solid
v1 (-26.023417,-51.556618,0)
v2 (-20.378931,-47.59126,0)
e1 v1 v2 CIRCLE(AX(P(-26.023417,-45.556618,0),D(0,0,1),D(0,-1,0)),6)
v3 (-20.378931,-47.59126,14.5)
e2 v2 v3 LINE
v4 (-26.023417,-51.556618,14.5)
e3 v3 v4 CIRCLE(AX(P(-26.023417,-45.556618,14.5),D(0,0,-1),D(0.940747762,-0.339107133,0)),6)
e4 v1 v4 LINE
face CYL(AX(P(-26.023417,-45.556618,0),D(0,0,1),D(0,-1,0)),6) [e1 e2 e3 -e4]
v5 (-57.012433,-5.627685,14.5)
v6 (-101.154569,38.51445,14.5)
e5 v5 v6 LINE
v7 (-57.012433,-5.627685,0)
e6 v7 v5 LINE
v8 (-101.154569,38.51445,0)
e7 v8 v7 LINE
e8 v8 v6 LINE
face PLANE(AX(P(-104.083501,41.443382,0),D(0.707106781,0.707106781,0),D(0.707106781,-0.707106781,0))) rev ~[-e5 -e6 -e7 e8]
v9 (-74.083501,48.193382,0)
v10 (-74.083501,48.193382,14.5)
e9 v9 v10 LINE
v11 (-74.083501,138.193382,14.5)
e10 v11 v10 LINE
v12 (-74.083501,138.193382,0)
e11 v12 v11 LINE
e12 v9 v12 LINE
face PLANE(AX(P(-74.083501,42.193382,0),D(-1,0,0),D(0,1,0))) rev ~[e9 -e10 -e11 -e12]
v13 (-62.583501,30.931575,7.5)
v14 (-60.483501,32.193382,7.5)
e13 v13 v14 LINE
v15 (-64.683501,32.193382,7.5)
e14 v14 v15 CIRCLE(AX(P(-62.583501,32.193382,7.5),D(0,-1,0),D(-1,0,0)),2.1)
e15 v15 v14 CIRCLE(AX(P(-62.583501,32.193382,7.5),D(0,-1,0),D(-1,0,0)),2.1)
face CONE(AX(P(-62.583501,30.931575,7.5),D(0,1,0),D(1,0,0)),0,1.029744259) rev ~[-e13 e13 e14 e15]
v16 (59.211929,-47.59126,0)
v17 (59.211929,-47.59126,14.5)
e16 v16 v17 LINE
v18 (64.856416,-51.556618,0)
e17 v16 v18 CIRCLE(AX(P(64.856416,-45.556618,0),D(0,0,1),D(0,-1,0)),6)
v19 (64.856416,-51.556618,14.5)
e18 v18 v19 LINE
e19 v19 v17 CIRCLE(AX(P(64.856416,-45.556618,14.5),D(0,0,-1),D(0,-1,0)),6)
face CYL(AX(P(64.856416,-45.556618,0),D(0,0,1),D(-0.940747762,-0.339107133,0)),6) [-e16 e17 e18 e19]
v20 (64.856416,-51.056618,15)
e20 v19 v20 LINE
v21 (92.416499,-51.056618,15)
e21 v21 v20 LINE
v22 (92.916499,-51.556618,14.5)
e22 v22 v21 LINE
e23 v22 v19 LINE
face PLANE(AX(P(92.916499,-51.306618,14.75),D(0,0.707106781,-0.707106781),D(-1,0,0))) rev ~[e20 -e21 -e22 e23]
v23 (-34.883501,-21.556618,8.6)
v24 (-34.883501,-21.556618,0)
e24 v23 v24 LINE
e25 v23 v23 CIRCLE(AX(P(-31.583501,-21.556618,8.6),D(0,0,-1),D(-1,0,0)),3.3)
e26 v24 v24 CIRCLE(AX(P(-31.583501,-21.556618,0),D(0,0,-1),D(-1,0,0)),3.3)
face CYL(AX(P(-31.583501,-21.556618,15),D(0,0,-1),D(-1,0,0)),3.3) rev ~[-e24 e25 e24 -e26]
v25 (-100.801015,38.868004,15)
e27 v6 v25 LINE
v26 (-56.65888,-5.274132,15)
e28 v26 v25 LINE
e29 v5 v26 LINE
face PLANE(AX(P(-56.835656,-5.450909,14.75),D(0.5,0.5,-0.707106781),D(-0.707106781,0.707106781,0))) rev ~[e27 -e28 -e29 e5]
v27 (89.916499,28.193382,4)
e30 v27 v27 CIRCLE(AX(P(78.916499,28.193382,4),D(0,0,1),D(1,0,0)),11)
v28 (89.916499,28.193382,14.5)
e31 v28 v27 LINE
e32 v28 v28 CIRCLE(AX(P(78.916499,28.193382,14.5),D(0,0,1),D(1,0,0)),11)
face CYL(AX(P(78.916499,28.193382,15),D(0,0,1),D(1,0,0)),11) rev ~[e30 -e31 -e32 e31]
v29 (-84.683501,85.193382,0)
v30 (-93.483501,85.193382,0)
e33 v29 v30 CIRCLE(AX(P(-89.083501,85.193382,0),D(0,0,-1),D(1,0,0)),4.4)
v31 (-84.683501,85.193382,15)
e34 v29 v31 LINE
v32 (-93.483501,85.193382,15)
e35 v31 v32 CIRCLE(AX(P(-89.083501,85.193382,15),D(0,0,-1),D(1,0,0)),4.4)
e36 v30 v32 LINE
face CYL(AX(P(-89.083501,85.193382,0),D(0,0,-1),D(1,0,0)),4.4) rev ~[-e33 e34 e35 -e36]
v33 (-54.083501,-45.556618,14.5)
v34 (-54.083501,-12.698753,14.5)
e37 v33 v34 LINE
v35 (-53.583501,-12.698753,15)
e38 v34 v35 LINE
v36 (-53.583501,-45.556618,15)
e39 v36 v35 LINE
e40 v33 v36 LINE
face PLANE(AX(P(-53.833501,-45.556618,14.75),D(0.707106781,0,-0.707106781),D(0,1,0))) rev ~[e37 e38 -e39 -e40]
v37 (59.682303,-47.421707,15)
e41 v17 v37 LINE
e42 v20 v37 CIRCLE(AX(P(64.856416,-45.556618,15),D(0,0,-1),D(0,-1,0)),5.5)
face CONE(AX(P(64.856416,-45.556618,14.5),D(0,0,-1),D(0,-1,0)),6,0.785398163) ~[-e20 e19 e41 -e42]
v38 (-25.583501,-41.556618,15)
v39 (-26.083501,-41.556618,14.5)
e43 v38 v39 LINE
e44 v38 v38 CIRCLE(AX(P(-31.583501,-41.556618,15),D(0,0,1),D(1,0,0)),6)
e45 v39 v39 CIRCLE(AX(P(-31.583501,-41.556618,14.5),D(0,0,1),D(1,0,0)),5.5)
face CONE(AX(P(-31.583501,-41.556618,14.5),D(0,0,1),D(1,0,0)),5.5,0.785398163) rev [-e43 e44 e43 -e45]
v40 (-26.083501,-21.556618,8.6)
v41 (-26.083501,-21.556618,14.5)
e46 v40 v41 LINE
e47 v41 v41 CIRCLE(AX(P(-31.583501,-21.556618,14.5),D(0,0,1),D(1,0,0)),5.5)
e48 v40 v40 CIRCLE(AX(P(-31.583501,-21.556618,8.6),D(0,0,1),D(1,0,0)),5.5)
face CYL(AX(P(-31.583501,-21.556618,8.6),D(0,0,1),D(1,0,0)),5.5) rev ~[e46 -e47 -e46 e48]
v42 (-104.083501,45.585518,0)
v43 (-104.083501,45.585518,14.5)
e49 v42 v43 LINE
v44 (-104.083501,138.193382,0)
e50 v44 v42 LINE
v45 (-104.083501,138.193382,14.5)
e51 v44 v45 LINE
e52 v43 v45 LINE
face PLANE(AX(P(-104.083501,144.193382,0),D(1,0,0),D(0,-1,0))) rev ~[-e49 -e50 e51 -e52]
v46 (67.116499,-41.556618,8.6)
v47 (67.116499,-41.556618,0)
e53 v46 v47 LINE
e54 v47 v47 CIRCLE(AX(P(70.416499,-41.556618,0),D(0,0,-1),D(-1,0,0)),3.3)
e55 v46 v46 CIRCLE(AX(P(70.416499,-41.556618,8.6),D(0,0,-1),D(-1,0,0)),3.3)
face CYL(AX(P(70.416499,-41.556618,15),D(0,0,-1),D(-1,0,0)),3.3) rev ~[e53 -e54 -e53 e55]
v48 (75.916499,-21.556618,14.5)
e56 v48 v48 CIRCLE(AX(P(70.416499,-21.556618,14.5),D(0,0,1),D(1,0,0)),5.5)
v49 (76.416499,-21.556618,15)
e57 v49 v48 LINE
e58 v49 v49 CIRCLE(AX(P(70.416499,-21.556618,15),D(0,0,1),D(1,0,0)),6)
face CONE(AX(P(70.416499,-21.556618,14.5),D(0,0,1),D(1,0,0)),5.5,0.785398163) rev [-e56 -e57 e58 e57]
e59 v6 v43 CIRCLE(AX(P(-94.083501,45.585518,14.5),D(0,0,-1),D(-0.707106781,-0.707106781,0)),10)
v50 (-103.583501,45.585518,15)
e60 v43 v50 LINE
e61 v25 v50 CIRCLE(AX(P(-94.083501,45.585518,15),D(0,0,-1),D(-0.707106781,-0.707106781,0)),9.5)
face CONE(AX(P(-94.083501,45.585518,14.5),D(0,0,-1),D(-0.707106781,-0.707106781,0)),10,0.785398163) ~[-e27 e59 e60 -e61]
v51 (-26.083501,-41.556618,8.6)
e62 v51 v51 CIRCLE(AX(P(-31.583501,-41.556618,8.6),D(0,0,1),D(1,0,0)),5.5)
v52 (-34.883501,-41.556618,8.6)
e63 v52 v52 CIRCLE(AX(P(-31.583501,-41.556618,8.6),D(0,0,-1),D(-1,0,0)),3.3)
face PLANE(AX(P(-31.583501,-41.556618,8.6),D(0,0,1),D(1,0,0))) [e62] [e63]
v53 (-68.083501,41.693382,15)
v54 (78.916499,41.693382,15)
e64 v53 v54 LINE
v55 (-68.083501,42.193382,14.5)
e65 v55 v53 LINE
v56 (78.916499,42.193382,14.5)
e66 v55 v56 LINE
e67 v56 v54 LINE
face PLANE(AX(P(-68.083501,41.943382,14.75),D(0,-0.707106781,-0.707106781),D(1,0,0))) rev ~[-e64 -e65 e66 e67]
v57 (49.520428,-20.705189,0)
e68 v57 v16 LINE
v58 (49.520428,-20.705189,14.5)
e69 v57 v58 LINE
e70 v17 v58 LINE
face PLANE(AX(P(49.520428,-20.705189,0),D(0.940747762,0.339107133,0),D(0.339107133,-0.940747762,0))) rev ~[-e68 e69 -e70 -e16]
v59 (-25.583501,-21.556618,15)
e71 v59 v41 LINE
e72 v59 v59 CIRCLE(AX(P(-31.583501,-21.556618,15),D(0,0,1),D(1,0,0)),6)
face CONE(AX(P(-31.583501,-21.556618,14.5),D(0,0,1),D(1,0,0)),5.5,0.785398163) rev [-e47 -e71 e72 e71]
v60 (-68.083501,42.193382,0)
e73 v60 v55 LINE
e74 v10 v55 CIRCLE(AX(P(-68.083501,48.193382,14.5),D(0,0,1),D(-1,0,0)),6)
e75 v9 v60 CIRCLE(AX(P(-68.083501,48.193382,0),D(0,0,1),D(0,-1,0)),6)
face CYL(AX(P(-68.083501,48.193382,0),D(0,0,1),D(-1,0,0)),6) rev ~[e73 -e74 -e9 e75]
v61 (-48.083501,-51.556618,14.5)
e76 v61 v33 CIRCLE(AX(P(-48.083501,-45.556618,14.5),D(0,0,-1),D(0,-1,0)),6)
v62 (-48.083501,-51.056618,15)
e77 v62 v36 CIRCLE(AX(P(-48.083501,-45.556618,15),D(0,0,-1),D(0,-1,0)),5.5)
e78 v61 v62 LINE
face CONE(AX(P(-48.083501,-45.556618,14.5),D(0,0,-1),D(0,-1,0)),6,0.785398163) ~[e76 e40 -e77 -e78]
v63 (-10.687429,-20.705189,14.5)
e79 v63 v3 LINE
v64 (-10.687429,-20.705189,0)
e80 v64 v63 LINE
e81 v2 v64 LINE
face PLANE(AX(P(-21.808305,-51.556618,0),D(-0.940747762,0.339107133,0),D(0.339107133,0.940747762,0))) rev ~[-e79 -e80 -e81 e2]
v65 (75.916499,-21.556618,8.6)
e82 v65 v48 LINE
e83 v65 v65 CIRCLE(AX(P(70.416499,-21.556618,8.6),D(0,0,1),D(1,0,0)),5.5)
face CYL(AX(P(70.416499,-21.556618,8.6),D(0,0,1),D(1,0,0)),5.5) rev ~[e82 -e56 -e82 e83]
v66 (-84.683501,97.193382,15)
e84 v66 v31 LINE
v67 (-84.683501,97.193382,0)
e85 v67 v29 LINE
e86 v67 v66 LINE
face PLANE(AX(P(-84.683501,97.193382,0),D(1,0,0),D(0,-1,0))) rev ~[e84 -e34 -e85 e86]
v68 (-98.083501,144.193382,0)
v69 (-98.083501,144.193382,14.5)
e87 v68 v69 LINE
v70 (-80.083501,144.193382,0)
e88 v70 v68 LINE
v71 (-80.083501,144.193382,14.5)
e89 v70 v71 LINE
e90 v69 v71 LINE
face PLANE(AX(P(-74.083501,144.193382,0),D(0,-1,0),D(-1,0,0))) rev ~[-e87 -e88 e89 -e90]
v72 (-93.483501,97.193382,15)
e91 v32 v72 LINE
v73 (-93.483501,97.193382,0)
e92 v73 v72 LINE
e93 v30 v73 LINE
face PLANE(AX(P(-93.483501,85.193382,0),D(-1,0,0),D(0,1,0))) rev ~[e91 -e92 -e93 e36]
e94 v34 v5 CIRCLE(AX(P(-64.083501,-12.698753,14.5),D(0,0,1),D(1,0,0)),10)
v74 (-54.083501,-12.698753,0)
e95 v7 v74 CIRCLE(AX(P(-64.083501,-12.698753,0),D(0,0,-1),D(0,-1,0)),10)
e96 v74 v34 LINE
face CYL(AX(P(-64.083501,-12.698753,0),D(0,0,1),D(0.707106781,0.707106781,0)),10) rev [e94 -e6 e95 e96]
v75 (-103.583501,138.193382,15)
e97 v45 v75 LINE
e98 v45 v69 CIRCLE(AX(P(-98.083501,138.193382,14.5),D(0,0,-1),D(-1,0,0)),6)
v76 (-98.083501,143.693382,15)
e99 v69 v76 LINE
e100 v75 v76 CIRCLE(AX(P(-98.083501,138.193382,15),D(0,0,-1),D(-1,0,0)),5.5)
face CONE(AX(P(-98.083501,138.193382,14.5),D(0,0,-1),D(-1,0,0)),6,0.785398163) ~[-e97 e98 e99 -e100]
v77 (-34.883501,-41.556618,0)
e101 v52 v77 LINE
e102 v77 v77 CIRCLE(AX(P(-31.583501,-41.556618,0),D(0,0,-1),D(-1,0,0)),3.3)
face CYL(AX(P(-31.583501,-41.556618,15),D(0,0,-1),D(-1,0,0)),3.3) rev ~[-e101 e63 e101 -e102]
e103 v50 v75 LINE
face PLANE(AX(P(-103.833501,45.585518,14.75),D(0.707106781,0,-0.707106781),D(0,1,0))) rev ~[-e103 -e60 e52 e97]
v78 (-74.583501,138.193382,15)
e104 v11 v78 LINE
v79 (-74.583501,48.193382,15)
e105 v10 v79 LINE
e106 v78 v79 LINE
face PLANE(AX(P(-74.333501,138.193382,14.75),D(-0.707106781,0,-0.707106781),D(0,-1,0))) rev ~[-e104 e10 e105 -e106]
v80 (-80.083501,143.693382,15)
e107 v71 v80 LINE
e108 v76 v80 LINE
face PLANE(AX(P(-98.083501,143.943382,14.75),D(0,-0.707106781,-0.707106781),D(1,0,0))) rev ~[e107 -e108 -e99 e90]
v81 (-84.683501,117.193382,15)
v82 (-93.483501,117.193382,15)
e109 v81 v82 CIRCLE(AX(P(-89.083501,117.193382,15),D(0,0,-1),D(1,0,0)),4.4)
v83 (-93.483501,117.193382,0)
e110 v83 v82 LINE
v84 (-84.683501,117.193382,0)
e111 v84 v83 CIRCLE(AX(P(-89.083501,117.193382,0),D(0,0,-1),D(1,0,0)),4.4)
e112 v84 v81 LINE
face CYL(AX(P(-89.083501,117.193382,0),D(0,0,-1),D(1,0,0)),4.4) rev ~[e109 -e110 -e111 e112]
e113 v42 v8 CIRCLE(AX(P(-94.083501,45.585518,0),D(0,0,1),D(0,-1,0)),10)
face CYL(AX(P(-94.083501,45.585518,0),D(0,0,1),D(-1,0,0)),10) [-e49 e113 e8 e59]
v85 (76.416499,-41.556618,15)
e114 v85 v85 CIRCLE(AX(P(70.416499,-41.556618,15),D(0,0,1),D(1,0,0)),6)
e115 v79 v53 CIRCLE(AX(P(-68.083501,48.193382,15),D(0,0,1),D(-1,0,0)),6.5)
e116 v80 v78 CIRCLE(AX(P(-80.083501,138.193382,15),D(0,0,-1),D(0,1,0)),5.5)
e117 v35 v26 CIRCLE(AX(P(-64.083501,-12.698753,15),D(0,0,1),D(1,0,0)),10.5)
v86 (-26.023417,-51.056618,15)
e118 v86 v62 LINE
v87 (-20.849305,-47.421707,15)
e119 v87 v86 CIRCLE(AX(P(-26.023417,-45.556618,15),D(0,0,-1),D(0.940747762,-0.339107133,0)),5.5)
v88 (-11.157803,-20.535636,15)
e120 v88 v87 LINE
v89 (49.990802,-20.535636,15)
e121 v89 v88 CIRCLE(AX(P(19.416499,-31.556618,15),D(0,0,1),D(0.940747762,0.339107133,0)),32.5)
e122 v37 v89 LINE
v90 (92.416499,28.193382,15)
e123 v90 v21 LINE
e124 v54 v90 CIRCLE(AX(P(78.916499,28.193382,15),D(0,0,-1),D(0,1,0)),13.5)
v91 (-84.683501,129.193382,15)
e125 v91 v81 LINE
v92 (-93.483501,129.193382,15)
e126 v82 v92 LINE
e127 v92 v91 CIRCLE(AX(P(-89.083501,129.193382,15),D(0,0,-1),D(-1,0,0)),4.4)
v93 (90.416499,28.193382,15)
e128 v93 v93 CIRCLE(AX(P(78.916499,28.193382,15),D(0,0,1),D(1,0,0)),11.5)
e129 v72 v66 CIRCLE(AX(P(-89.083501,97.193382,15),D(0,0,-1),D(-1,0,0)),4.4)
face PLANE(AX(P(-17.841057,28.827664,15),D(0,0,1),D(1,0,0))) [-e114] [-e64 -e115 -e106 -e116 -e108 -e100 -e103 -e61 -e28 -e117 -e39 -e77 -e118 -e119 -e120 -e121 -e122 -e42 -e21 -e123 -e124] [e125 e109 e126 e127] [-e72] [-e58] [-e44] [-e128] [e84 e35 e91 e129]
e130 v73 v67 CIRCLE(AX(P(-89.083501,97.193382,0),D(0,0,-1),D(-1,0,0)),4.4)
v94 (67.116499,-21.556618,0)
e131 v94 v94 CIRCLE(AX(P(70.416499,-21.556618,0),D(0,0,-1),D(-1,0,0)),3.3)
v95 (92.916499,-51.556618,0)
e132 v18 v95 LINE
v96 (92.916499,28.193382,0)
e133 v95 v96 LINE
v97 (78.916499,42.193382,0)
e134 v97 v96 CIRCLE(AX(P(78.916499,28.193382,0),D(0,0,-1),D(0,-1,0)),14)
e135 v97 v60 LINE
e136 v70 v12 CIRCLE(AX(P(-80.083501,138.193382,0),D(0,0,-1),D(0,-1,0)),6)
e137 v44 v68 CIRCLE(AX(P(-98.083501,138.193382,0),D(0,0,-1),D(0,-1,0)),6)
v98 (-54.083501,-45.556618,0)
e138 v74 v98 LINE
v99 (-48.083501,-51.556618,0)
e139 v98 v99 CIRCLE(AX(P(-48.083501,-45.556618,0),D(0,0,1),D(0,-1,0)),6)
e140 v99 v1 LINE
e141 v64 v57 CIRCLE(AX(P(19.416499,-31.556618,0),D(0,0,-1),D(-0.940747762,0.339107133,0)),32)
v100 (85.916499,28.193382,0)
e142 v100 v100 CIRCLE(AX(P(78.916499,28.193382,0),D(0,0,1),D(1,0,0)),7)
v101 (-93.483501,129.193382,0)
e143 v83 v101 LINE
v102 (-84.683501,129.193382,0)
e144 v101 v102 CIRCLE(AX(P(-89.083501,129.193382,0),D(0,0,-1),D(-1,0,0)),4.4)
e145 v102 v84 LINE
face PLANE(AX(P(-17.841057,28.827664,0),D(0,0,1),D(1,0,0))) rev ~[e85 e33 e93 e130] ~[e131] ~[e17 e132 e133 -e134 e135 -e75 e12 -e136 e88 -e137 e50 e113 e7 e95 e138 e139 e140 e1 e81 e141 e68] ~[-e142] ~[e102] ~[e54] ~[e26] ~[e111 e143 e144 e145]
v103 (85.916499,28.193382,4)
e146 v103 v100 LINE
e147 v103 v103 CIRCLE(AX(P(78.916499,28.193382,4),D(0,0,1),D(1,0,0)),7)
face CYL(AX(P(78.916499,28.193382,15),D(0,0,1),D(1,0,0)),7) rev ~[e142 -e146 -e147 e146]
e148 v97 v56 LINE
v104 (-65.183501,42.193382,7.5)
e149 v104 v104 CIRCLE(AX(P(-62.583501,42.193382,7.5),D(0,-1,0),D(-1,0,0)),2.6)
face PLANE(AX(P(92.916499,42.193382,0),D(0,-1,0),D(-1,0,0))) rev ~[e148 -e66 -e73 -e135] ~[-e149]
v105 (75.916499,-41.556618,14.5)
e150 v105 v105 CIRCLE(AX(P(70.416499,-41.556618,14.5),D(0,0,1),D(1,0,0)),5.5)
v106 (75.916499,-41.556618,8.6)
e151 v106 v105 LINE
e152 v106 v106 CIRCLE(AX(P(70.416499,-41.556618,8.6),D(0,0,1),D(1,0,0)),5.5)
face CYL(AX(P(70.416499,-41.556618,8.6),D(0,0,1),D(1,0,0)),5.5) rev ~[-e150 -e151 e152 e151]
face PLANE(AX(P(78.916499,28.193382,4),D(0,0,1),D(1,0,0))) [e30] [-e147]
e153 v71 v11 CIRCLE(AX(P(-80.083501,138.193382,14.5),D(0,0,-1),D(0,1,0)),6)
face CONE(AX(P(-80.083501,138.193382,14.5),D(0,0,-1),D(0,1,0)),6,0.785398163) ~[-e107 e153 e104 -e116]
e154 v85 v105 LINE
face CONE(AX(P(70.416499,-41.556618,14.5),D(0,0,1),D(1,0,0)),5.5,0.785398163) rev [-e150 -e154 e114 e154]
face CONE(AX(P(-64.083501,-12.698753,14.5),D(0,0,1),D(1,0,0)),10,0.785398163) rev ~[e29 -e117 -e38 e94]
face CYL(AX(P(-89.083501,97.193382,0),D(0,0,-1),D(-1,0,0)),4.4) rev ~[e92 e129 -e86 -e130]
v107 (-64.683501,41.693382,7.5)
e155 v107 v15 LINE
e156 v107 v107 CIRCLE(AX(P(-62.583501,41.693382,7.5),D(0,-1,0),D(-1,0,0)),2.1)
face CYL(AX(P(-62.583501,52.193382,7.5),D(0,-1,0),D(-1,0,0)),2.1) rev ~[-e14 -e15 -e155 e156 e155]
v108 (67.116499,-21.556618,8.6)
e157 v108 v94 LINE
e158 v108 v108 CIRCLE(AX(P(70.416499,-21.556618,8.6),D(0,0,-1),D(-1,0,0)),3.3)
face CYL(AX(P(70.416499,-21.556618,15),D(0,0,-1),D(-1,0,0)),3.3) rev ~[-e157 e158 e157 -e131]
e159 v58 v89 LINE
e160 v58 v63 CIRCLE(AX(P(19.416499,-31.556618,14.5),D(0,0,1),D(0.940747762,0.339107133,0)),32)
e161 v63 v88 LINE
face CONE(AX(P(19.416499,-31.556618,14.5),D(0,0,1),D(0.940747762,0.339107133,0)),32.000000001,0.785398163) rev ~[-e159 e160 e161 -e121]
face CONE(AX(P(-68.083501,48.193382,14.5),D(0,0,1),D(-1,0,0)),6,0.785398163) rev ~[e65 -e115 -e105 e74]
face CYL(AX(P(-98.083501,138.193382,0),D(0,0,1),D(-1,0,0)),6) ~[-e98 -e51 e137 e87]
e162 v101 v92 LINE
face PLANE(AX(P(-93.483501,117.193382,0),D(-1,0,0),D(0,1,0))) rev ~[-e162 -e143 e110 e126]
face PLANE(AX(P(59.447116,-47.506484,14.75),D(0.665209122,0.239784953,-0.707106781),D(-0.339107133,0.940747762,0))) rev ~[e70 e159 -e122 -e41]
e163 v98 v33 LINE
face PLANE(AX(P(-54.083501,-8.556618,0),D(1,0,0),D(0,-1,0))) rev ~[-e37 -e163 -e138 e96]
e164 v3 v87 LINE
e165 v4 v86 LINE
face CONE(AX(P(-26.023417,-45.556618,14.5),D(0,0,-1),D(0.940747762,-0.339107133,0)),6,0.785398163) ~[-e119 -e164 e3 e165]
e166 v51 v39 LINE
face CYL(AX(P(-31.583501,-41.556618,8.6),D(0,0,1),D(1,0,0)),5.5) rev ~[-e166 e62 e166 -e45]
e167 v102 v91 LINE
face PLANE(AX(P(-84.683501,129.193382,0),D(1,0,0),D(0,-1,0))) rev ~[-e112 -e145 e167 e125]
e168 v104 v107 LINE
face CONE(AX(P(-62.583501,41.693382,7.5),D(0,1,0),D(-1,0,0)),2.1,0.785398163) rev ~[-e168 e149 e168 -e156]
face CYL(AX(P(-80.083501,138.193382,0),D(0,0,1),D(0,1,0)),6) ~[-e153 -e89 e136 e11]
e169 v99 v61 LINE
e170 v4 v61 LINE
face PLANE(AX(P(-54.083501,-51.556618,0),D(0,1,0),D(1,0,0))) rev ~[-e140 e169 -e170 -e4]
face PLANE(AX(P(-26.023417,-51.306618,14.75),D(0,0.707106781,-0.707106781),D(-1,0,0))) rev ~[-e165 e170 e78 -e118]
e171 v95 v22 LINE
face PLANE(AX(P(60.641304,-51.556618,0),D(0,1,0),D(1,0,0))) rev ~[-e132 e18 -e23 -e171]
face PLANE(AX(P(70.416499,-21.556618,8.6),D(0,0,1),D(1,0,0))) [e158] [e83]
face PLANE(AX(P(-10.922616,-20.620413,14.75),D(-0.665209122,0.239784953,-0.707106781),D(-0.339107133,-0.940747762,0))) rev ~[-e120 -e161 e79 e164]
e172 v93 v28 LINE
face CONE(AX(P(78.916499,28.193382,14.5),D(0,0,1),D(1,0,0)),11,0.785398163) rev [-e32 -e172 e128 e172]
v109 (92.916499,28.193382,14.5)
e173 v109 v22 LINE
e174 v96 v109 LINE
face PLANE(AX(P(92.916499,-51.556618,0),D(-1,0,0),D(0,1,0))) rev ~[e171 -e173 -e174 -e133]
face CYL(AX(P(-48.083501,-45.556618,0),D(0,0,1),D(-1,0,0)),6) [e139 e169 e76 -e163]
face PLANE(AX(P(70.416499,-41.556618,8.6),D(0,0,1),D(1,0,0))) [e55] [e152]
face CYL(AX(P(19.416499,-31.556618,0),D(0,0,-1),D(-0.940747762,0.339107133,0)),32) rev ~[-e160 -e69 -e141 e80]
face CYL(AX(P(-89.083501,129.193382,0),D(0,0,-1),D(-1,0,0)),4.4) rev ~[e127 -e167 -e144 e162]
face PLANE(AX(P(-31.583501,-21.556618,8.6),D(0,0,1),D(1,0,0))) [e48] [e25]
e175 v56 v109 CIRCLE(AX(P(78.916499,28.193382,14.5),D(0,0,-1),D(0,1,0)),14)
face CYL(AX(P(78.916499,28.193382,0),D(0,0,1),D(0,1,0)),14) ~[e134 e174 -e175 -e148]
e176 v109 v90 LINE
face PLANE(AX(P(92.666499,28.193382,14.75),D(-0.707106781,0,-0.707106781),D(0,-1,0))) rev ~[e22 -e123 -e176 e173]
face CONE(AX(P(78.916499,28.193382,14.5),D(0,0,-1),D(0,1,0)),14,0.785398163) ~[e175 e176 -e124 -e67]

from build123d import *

# Parameters (mm, degrees)
BOSS_EXTRUDE1_DEPTH                                 = 15
FILLET1_R                                           = 6
CBORE_FOR_M6_HEX_SOCKET_HEAD_CAP_SCREW1_D           = 6.6
CBORE_FOR_M6_HEX_SOCKET_HEAD_CAP_SCREW1_CBORE_D     = 11
CBORE_FOR_M6_HEX_SOCKET_HEAD_CAP_SCREW1_CBORE_DEPTH = 6.4
SKETCH6_R                                           = 7
CUT_EXTRUDE3_DEPTH                                  = 16
SKETCH7_R                                           = 11
CUT_EXTRUDE4_DEPTH                                  = 11
TAP_DRILL_FOR_M5_TAP1_D                             = 4.2
TAP_DRILL_FOR_M5_TAP1_DEPTH                         = 10
TAP_DRILL_FOR_M5_TAP1_TIP                           = 1.2618073
FILLET4_R                                           = 14
FILLET5_R                                           = 10
CHAMFER1_SIZE                                       = 0.5


with BuildPart() as part:
    # Sketch1 → Boss-Extrude1 (new body)
    with BuildSketch(Plane.XY):
        with BuildLine():
            Line((-54.083500753, -8.556617627), (-54.083500753, -51.556617627))
            Line((-54.083500753, -51.556617627), (-21.808305332, -51.556617627))
            Line((-21.808305332, -51.556617627), (-10.687429148, -20.70518937))
            ThreePointArc((-10.687429148, -20.70518937), (19.416499247, 0.443382373), (49.520427642, -20.70518937))
            Line((49.520427642, -20.70518937), (60.641303826, -51.556617627))
            Line((60.641303826, -51.556617627), (92.916499247, -51.556617627))
            Line((92.916499247, -51.556617627), (92.916499247, 42.193382373))
            Line((92.916499247, 42.193382373), (-74.083500753, 42.193382373))
            Line((-74.083500753, 42.193382373), (-74.083500753, 144.193382373))
            Line((-74.083500753, 144.193382373), (-104.083500753, 144.193382373))
            Line((-104.083500753, 144.193382373), (-104.083500753, 41.443382373))
            Line((-104.083500753, 41.443382373), (-54.083500753, -8.556617627))
        make_face()
        with BuildLine():
            ThreePointArc((-93.483500753, 97.193382373), (-89.083500753, 101.593382373), (-84.683500753, 97.193382373))
            Line((-84.683500753, 97.193382373), (-84.683500753, 85.193382373))
            ThreePointArc((-84.683500753, 85.193382373), (-89.083500753, 80.793382373), (-93.483500753, 85.193382373))
            Line((-93.483500753, 85.193382373), (-93.483500753, 97.193382373))
        make_face(mode=Mode.SUBTRACT)
        with BuildLine():
            ThreePointArc((-93.483500753, 129.193382373), (-89.083500753, 133.593382373), (-84.683500753, 129.193382373))
            Line((-84.683500753, 129.193382373), (-84.683500753, 117.193382373))
            ThreePointArc((-84.683500753, 117.193382373), (-89.083500753, 112.793382373), (-93.483500753, 117.193382373))
            Line((-93.483500753, 117.193382373), (-93.483500753, 129.193382373))
        make_face(mode=Mode.SUBTRACT)
    extrude(amount=BOSS_EXTRUDE1_DEPTH)

    # Fillet1
    fillet1_edges = [part.edges().sort_by_distance(p)[0] for p in [
        (-21.808305332, -51.556617627, 7.5),
        (-54.083500753, -51.556617627, 7.5),
        (-104.083500753, 144.193382373, 7.5),
        (-74.083500753, 144.193382373, 7.5),
        (-74.083500753, 42.193382373, 7.5),
        (60.641303826, -51.556617627, 7.5),
    ]]
    fillet(fillet1_edges, radius=FILLET1_R)

    # CBORE for M6 Hex Socket Head Cap Screw1 (through all)
    with Locations(Plane.XY.offset(15)):
        with Locations((-31.583500753, -41.556617627), (-31.583500753, -21.556617627), (70.416499247, -41.556617627), (70.416499247, -21.556617627)):
            CounterBoreHole(CBORE_FOR_M6_HEX_SOCKET_HEAD_CAP_SCREW1_D / 2, CBORE_FOR_M6_HEX_SOCKET_HEAD_CAP_SCREW1_CBORE_D / 2, CBORE_FOR_M6_HEX_SOCKET_HEAD_CAP_SCREW1_CBORE_DEPTH)

    # Sketch6 → Cut-Extrude3 (cut, through all)
    with BuildSketch(Plane.XY.offset(15)):
        with Locations((78.916499247, 28.193382373)):
            Circle(SKETCH6_R)
    extrude(amount=-CUT_EXTRUDE3_DEPTH, mode=Mode.SUBTRACT)

    # Sketch7 → Cut-Extrude4 (cut)
    with BuildSketch(Plane.XY.offset(15)):
        with Locations((78.916499247, 28.193382373)):
            Circle(SKETCH7_R)
    extrude(amount=-CUT_EXTRUDE4_DEPTH, mode=Mode.SUBTRACT)

    # Tap Drill for M5 Tap1
    with Locations(Plane(origin=(0, 42.193382373, 0), x_dir=(1, 0, 0), z_dir=(0, 1, 0))):
        with Locations((-62.583500753, -7.5)):
            Hole(TAP_DRILL_FOR_M5_TAP1_D / 2, depth=TAP_DRILL_FOR_M5_TAP1_DEPTH)
            with Locations((0, 0, -(TAP_DRILL_FOR_M5_TAP1_DEPTH + TAP_DRILL_FOR_M5_TAP1_TIP / 2))):  # 118° drill point
                Cone(0, TAP_DRILL_FOR_M5_TAP1_D / 2, TAP_DRILL_FOR_M5_TAP1_TIP, mode=Mode.SUBTRACT)

    # Fillet4
    fillet4_edges = [part.edges().sort_by_distance(p)[0] for p in [
        (92.916499247, 42.193382373, 7.5),
    ]]
    fillet(fillet4_edges, radius=FILLET4_R)

    # Fillet5
    fillet5_edges = [part.edges().sort_by_distance(p)[0] for p in [
        (-54.083500753, -8.556617627, 7.5),
        (-104.083500753, 41.443382373, 7.5),
    ]]
    fillet(fillet5_edges, radius=FILLET5_R)

    # Chamfer1
    chamfer1_edges = [part.edges().sort_by_distance(p)[0] for p in [
        (64.916499247, -41.556617627, 15),
        (-37.083500753, -21.556617627, 15),
        (-37.083500753, -41.556617627, 15),
        (67.916499247, 28.193382373, 15),
        (-60.483500753, 42.193382373, 7.5),
        (88.815994184, 38.09287731, 15),
        (-79.083500753, 16.443382373, 15),
        (-104.083500753, 91.889450185, 15),
        (-103.322296078, 41.758683673, 15),
        (-54.844705428, -8.871918927, 15),
        (19.416499247, 0.443382373, 15),
        (54.366178458, -34.148224897, 15),
        (92.916499247, -11.681617627, 15),
        (-74.083500753, 93.193382373, 15),
        (5.416499247, 42.193382373, 15),
        (-89.083500753, 144.193382373, 15),
        (78.886457547, -51.556617627, 15),
        (-54.083500753, -29.127685439, 15),
        (-37.053459053, -51.556617627, 15),
        (-22.574349131, -50.466192801, 15),
        (61.407347625, -50.466192801, 15),
        (-52.32614144, -49.799258314, 15),
        (-102.32614144, 142.43602306, 15),
        (-75.840860066, 142.43602306, 15),
        (-72.32614144, 43.950741686, 15),
        (-15.533179964, -34.148224897, 15),
        (64.916499247, -21.556617627, 15),
    ]]
    chamfer(chamfer1_edges, length=CHAMFER1_SIZE)


solid = part.part
